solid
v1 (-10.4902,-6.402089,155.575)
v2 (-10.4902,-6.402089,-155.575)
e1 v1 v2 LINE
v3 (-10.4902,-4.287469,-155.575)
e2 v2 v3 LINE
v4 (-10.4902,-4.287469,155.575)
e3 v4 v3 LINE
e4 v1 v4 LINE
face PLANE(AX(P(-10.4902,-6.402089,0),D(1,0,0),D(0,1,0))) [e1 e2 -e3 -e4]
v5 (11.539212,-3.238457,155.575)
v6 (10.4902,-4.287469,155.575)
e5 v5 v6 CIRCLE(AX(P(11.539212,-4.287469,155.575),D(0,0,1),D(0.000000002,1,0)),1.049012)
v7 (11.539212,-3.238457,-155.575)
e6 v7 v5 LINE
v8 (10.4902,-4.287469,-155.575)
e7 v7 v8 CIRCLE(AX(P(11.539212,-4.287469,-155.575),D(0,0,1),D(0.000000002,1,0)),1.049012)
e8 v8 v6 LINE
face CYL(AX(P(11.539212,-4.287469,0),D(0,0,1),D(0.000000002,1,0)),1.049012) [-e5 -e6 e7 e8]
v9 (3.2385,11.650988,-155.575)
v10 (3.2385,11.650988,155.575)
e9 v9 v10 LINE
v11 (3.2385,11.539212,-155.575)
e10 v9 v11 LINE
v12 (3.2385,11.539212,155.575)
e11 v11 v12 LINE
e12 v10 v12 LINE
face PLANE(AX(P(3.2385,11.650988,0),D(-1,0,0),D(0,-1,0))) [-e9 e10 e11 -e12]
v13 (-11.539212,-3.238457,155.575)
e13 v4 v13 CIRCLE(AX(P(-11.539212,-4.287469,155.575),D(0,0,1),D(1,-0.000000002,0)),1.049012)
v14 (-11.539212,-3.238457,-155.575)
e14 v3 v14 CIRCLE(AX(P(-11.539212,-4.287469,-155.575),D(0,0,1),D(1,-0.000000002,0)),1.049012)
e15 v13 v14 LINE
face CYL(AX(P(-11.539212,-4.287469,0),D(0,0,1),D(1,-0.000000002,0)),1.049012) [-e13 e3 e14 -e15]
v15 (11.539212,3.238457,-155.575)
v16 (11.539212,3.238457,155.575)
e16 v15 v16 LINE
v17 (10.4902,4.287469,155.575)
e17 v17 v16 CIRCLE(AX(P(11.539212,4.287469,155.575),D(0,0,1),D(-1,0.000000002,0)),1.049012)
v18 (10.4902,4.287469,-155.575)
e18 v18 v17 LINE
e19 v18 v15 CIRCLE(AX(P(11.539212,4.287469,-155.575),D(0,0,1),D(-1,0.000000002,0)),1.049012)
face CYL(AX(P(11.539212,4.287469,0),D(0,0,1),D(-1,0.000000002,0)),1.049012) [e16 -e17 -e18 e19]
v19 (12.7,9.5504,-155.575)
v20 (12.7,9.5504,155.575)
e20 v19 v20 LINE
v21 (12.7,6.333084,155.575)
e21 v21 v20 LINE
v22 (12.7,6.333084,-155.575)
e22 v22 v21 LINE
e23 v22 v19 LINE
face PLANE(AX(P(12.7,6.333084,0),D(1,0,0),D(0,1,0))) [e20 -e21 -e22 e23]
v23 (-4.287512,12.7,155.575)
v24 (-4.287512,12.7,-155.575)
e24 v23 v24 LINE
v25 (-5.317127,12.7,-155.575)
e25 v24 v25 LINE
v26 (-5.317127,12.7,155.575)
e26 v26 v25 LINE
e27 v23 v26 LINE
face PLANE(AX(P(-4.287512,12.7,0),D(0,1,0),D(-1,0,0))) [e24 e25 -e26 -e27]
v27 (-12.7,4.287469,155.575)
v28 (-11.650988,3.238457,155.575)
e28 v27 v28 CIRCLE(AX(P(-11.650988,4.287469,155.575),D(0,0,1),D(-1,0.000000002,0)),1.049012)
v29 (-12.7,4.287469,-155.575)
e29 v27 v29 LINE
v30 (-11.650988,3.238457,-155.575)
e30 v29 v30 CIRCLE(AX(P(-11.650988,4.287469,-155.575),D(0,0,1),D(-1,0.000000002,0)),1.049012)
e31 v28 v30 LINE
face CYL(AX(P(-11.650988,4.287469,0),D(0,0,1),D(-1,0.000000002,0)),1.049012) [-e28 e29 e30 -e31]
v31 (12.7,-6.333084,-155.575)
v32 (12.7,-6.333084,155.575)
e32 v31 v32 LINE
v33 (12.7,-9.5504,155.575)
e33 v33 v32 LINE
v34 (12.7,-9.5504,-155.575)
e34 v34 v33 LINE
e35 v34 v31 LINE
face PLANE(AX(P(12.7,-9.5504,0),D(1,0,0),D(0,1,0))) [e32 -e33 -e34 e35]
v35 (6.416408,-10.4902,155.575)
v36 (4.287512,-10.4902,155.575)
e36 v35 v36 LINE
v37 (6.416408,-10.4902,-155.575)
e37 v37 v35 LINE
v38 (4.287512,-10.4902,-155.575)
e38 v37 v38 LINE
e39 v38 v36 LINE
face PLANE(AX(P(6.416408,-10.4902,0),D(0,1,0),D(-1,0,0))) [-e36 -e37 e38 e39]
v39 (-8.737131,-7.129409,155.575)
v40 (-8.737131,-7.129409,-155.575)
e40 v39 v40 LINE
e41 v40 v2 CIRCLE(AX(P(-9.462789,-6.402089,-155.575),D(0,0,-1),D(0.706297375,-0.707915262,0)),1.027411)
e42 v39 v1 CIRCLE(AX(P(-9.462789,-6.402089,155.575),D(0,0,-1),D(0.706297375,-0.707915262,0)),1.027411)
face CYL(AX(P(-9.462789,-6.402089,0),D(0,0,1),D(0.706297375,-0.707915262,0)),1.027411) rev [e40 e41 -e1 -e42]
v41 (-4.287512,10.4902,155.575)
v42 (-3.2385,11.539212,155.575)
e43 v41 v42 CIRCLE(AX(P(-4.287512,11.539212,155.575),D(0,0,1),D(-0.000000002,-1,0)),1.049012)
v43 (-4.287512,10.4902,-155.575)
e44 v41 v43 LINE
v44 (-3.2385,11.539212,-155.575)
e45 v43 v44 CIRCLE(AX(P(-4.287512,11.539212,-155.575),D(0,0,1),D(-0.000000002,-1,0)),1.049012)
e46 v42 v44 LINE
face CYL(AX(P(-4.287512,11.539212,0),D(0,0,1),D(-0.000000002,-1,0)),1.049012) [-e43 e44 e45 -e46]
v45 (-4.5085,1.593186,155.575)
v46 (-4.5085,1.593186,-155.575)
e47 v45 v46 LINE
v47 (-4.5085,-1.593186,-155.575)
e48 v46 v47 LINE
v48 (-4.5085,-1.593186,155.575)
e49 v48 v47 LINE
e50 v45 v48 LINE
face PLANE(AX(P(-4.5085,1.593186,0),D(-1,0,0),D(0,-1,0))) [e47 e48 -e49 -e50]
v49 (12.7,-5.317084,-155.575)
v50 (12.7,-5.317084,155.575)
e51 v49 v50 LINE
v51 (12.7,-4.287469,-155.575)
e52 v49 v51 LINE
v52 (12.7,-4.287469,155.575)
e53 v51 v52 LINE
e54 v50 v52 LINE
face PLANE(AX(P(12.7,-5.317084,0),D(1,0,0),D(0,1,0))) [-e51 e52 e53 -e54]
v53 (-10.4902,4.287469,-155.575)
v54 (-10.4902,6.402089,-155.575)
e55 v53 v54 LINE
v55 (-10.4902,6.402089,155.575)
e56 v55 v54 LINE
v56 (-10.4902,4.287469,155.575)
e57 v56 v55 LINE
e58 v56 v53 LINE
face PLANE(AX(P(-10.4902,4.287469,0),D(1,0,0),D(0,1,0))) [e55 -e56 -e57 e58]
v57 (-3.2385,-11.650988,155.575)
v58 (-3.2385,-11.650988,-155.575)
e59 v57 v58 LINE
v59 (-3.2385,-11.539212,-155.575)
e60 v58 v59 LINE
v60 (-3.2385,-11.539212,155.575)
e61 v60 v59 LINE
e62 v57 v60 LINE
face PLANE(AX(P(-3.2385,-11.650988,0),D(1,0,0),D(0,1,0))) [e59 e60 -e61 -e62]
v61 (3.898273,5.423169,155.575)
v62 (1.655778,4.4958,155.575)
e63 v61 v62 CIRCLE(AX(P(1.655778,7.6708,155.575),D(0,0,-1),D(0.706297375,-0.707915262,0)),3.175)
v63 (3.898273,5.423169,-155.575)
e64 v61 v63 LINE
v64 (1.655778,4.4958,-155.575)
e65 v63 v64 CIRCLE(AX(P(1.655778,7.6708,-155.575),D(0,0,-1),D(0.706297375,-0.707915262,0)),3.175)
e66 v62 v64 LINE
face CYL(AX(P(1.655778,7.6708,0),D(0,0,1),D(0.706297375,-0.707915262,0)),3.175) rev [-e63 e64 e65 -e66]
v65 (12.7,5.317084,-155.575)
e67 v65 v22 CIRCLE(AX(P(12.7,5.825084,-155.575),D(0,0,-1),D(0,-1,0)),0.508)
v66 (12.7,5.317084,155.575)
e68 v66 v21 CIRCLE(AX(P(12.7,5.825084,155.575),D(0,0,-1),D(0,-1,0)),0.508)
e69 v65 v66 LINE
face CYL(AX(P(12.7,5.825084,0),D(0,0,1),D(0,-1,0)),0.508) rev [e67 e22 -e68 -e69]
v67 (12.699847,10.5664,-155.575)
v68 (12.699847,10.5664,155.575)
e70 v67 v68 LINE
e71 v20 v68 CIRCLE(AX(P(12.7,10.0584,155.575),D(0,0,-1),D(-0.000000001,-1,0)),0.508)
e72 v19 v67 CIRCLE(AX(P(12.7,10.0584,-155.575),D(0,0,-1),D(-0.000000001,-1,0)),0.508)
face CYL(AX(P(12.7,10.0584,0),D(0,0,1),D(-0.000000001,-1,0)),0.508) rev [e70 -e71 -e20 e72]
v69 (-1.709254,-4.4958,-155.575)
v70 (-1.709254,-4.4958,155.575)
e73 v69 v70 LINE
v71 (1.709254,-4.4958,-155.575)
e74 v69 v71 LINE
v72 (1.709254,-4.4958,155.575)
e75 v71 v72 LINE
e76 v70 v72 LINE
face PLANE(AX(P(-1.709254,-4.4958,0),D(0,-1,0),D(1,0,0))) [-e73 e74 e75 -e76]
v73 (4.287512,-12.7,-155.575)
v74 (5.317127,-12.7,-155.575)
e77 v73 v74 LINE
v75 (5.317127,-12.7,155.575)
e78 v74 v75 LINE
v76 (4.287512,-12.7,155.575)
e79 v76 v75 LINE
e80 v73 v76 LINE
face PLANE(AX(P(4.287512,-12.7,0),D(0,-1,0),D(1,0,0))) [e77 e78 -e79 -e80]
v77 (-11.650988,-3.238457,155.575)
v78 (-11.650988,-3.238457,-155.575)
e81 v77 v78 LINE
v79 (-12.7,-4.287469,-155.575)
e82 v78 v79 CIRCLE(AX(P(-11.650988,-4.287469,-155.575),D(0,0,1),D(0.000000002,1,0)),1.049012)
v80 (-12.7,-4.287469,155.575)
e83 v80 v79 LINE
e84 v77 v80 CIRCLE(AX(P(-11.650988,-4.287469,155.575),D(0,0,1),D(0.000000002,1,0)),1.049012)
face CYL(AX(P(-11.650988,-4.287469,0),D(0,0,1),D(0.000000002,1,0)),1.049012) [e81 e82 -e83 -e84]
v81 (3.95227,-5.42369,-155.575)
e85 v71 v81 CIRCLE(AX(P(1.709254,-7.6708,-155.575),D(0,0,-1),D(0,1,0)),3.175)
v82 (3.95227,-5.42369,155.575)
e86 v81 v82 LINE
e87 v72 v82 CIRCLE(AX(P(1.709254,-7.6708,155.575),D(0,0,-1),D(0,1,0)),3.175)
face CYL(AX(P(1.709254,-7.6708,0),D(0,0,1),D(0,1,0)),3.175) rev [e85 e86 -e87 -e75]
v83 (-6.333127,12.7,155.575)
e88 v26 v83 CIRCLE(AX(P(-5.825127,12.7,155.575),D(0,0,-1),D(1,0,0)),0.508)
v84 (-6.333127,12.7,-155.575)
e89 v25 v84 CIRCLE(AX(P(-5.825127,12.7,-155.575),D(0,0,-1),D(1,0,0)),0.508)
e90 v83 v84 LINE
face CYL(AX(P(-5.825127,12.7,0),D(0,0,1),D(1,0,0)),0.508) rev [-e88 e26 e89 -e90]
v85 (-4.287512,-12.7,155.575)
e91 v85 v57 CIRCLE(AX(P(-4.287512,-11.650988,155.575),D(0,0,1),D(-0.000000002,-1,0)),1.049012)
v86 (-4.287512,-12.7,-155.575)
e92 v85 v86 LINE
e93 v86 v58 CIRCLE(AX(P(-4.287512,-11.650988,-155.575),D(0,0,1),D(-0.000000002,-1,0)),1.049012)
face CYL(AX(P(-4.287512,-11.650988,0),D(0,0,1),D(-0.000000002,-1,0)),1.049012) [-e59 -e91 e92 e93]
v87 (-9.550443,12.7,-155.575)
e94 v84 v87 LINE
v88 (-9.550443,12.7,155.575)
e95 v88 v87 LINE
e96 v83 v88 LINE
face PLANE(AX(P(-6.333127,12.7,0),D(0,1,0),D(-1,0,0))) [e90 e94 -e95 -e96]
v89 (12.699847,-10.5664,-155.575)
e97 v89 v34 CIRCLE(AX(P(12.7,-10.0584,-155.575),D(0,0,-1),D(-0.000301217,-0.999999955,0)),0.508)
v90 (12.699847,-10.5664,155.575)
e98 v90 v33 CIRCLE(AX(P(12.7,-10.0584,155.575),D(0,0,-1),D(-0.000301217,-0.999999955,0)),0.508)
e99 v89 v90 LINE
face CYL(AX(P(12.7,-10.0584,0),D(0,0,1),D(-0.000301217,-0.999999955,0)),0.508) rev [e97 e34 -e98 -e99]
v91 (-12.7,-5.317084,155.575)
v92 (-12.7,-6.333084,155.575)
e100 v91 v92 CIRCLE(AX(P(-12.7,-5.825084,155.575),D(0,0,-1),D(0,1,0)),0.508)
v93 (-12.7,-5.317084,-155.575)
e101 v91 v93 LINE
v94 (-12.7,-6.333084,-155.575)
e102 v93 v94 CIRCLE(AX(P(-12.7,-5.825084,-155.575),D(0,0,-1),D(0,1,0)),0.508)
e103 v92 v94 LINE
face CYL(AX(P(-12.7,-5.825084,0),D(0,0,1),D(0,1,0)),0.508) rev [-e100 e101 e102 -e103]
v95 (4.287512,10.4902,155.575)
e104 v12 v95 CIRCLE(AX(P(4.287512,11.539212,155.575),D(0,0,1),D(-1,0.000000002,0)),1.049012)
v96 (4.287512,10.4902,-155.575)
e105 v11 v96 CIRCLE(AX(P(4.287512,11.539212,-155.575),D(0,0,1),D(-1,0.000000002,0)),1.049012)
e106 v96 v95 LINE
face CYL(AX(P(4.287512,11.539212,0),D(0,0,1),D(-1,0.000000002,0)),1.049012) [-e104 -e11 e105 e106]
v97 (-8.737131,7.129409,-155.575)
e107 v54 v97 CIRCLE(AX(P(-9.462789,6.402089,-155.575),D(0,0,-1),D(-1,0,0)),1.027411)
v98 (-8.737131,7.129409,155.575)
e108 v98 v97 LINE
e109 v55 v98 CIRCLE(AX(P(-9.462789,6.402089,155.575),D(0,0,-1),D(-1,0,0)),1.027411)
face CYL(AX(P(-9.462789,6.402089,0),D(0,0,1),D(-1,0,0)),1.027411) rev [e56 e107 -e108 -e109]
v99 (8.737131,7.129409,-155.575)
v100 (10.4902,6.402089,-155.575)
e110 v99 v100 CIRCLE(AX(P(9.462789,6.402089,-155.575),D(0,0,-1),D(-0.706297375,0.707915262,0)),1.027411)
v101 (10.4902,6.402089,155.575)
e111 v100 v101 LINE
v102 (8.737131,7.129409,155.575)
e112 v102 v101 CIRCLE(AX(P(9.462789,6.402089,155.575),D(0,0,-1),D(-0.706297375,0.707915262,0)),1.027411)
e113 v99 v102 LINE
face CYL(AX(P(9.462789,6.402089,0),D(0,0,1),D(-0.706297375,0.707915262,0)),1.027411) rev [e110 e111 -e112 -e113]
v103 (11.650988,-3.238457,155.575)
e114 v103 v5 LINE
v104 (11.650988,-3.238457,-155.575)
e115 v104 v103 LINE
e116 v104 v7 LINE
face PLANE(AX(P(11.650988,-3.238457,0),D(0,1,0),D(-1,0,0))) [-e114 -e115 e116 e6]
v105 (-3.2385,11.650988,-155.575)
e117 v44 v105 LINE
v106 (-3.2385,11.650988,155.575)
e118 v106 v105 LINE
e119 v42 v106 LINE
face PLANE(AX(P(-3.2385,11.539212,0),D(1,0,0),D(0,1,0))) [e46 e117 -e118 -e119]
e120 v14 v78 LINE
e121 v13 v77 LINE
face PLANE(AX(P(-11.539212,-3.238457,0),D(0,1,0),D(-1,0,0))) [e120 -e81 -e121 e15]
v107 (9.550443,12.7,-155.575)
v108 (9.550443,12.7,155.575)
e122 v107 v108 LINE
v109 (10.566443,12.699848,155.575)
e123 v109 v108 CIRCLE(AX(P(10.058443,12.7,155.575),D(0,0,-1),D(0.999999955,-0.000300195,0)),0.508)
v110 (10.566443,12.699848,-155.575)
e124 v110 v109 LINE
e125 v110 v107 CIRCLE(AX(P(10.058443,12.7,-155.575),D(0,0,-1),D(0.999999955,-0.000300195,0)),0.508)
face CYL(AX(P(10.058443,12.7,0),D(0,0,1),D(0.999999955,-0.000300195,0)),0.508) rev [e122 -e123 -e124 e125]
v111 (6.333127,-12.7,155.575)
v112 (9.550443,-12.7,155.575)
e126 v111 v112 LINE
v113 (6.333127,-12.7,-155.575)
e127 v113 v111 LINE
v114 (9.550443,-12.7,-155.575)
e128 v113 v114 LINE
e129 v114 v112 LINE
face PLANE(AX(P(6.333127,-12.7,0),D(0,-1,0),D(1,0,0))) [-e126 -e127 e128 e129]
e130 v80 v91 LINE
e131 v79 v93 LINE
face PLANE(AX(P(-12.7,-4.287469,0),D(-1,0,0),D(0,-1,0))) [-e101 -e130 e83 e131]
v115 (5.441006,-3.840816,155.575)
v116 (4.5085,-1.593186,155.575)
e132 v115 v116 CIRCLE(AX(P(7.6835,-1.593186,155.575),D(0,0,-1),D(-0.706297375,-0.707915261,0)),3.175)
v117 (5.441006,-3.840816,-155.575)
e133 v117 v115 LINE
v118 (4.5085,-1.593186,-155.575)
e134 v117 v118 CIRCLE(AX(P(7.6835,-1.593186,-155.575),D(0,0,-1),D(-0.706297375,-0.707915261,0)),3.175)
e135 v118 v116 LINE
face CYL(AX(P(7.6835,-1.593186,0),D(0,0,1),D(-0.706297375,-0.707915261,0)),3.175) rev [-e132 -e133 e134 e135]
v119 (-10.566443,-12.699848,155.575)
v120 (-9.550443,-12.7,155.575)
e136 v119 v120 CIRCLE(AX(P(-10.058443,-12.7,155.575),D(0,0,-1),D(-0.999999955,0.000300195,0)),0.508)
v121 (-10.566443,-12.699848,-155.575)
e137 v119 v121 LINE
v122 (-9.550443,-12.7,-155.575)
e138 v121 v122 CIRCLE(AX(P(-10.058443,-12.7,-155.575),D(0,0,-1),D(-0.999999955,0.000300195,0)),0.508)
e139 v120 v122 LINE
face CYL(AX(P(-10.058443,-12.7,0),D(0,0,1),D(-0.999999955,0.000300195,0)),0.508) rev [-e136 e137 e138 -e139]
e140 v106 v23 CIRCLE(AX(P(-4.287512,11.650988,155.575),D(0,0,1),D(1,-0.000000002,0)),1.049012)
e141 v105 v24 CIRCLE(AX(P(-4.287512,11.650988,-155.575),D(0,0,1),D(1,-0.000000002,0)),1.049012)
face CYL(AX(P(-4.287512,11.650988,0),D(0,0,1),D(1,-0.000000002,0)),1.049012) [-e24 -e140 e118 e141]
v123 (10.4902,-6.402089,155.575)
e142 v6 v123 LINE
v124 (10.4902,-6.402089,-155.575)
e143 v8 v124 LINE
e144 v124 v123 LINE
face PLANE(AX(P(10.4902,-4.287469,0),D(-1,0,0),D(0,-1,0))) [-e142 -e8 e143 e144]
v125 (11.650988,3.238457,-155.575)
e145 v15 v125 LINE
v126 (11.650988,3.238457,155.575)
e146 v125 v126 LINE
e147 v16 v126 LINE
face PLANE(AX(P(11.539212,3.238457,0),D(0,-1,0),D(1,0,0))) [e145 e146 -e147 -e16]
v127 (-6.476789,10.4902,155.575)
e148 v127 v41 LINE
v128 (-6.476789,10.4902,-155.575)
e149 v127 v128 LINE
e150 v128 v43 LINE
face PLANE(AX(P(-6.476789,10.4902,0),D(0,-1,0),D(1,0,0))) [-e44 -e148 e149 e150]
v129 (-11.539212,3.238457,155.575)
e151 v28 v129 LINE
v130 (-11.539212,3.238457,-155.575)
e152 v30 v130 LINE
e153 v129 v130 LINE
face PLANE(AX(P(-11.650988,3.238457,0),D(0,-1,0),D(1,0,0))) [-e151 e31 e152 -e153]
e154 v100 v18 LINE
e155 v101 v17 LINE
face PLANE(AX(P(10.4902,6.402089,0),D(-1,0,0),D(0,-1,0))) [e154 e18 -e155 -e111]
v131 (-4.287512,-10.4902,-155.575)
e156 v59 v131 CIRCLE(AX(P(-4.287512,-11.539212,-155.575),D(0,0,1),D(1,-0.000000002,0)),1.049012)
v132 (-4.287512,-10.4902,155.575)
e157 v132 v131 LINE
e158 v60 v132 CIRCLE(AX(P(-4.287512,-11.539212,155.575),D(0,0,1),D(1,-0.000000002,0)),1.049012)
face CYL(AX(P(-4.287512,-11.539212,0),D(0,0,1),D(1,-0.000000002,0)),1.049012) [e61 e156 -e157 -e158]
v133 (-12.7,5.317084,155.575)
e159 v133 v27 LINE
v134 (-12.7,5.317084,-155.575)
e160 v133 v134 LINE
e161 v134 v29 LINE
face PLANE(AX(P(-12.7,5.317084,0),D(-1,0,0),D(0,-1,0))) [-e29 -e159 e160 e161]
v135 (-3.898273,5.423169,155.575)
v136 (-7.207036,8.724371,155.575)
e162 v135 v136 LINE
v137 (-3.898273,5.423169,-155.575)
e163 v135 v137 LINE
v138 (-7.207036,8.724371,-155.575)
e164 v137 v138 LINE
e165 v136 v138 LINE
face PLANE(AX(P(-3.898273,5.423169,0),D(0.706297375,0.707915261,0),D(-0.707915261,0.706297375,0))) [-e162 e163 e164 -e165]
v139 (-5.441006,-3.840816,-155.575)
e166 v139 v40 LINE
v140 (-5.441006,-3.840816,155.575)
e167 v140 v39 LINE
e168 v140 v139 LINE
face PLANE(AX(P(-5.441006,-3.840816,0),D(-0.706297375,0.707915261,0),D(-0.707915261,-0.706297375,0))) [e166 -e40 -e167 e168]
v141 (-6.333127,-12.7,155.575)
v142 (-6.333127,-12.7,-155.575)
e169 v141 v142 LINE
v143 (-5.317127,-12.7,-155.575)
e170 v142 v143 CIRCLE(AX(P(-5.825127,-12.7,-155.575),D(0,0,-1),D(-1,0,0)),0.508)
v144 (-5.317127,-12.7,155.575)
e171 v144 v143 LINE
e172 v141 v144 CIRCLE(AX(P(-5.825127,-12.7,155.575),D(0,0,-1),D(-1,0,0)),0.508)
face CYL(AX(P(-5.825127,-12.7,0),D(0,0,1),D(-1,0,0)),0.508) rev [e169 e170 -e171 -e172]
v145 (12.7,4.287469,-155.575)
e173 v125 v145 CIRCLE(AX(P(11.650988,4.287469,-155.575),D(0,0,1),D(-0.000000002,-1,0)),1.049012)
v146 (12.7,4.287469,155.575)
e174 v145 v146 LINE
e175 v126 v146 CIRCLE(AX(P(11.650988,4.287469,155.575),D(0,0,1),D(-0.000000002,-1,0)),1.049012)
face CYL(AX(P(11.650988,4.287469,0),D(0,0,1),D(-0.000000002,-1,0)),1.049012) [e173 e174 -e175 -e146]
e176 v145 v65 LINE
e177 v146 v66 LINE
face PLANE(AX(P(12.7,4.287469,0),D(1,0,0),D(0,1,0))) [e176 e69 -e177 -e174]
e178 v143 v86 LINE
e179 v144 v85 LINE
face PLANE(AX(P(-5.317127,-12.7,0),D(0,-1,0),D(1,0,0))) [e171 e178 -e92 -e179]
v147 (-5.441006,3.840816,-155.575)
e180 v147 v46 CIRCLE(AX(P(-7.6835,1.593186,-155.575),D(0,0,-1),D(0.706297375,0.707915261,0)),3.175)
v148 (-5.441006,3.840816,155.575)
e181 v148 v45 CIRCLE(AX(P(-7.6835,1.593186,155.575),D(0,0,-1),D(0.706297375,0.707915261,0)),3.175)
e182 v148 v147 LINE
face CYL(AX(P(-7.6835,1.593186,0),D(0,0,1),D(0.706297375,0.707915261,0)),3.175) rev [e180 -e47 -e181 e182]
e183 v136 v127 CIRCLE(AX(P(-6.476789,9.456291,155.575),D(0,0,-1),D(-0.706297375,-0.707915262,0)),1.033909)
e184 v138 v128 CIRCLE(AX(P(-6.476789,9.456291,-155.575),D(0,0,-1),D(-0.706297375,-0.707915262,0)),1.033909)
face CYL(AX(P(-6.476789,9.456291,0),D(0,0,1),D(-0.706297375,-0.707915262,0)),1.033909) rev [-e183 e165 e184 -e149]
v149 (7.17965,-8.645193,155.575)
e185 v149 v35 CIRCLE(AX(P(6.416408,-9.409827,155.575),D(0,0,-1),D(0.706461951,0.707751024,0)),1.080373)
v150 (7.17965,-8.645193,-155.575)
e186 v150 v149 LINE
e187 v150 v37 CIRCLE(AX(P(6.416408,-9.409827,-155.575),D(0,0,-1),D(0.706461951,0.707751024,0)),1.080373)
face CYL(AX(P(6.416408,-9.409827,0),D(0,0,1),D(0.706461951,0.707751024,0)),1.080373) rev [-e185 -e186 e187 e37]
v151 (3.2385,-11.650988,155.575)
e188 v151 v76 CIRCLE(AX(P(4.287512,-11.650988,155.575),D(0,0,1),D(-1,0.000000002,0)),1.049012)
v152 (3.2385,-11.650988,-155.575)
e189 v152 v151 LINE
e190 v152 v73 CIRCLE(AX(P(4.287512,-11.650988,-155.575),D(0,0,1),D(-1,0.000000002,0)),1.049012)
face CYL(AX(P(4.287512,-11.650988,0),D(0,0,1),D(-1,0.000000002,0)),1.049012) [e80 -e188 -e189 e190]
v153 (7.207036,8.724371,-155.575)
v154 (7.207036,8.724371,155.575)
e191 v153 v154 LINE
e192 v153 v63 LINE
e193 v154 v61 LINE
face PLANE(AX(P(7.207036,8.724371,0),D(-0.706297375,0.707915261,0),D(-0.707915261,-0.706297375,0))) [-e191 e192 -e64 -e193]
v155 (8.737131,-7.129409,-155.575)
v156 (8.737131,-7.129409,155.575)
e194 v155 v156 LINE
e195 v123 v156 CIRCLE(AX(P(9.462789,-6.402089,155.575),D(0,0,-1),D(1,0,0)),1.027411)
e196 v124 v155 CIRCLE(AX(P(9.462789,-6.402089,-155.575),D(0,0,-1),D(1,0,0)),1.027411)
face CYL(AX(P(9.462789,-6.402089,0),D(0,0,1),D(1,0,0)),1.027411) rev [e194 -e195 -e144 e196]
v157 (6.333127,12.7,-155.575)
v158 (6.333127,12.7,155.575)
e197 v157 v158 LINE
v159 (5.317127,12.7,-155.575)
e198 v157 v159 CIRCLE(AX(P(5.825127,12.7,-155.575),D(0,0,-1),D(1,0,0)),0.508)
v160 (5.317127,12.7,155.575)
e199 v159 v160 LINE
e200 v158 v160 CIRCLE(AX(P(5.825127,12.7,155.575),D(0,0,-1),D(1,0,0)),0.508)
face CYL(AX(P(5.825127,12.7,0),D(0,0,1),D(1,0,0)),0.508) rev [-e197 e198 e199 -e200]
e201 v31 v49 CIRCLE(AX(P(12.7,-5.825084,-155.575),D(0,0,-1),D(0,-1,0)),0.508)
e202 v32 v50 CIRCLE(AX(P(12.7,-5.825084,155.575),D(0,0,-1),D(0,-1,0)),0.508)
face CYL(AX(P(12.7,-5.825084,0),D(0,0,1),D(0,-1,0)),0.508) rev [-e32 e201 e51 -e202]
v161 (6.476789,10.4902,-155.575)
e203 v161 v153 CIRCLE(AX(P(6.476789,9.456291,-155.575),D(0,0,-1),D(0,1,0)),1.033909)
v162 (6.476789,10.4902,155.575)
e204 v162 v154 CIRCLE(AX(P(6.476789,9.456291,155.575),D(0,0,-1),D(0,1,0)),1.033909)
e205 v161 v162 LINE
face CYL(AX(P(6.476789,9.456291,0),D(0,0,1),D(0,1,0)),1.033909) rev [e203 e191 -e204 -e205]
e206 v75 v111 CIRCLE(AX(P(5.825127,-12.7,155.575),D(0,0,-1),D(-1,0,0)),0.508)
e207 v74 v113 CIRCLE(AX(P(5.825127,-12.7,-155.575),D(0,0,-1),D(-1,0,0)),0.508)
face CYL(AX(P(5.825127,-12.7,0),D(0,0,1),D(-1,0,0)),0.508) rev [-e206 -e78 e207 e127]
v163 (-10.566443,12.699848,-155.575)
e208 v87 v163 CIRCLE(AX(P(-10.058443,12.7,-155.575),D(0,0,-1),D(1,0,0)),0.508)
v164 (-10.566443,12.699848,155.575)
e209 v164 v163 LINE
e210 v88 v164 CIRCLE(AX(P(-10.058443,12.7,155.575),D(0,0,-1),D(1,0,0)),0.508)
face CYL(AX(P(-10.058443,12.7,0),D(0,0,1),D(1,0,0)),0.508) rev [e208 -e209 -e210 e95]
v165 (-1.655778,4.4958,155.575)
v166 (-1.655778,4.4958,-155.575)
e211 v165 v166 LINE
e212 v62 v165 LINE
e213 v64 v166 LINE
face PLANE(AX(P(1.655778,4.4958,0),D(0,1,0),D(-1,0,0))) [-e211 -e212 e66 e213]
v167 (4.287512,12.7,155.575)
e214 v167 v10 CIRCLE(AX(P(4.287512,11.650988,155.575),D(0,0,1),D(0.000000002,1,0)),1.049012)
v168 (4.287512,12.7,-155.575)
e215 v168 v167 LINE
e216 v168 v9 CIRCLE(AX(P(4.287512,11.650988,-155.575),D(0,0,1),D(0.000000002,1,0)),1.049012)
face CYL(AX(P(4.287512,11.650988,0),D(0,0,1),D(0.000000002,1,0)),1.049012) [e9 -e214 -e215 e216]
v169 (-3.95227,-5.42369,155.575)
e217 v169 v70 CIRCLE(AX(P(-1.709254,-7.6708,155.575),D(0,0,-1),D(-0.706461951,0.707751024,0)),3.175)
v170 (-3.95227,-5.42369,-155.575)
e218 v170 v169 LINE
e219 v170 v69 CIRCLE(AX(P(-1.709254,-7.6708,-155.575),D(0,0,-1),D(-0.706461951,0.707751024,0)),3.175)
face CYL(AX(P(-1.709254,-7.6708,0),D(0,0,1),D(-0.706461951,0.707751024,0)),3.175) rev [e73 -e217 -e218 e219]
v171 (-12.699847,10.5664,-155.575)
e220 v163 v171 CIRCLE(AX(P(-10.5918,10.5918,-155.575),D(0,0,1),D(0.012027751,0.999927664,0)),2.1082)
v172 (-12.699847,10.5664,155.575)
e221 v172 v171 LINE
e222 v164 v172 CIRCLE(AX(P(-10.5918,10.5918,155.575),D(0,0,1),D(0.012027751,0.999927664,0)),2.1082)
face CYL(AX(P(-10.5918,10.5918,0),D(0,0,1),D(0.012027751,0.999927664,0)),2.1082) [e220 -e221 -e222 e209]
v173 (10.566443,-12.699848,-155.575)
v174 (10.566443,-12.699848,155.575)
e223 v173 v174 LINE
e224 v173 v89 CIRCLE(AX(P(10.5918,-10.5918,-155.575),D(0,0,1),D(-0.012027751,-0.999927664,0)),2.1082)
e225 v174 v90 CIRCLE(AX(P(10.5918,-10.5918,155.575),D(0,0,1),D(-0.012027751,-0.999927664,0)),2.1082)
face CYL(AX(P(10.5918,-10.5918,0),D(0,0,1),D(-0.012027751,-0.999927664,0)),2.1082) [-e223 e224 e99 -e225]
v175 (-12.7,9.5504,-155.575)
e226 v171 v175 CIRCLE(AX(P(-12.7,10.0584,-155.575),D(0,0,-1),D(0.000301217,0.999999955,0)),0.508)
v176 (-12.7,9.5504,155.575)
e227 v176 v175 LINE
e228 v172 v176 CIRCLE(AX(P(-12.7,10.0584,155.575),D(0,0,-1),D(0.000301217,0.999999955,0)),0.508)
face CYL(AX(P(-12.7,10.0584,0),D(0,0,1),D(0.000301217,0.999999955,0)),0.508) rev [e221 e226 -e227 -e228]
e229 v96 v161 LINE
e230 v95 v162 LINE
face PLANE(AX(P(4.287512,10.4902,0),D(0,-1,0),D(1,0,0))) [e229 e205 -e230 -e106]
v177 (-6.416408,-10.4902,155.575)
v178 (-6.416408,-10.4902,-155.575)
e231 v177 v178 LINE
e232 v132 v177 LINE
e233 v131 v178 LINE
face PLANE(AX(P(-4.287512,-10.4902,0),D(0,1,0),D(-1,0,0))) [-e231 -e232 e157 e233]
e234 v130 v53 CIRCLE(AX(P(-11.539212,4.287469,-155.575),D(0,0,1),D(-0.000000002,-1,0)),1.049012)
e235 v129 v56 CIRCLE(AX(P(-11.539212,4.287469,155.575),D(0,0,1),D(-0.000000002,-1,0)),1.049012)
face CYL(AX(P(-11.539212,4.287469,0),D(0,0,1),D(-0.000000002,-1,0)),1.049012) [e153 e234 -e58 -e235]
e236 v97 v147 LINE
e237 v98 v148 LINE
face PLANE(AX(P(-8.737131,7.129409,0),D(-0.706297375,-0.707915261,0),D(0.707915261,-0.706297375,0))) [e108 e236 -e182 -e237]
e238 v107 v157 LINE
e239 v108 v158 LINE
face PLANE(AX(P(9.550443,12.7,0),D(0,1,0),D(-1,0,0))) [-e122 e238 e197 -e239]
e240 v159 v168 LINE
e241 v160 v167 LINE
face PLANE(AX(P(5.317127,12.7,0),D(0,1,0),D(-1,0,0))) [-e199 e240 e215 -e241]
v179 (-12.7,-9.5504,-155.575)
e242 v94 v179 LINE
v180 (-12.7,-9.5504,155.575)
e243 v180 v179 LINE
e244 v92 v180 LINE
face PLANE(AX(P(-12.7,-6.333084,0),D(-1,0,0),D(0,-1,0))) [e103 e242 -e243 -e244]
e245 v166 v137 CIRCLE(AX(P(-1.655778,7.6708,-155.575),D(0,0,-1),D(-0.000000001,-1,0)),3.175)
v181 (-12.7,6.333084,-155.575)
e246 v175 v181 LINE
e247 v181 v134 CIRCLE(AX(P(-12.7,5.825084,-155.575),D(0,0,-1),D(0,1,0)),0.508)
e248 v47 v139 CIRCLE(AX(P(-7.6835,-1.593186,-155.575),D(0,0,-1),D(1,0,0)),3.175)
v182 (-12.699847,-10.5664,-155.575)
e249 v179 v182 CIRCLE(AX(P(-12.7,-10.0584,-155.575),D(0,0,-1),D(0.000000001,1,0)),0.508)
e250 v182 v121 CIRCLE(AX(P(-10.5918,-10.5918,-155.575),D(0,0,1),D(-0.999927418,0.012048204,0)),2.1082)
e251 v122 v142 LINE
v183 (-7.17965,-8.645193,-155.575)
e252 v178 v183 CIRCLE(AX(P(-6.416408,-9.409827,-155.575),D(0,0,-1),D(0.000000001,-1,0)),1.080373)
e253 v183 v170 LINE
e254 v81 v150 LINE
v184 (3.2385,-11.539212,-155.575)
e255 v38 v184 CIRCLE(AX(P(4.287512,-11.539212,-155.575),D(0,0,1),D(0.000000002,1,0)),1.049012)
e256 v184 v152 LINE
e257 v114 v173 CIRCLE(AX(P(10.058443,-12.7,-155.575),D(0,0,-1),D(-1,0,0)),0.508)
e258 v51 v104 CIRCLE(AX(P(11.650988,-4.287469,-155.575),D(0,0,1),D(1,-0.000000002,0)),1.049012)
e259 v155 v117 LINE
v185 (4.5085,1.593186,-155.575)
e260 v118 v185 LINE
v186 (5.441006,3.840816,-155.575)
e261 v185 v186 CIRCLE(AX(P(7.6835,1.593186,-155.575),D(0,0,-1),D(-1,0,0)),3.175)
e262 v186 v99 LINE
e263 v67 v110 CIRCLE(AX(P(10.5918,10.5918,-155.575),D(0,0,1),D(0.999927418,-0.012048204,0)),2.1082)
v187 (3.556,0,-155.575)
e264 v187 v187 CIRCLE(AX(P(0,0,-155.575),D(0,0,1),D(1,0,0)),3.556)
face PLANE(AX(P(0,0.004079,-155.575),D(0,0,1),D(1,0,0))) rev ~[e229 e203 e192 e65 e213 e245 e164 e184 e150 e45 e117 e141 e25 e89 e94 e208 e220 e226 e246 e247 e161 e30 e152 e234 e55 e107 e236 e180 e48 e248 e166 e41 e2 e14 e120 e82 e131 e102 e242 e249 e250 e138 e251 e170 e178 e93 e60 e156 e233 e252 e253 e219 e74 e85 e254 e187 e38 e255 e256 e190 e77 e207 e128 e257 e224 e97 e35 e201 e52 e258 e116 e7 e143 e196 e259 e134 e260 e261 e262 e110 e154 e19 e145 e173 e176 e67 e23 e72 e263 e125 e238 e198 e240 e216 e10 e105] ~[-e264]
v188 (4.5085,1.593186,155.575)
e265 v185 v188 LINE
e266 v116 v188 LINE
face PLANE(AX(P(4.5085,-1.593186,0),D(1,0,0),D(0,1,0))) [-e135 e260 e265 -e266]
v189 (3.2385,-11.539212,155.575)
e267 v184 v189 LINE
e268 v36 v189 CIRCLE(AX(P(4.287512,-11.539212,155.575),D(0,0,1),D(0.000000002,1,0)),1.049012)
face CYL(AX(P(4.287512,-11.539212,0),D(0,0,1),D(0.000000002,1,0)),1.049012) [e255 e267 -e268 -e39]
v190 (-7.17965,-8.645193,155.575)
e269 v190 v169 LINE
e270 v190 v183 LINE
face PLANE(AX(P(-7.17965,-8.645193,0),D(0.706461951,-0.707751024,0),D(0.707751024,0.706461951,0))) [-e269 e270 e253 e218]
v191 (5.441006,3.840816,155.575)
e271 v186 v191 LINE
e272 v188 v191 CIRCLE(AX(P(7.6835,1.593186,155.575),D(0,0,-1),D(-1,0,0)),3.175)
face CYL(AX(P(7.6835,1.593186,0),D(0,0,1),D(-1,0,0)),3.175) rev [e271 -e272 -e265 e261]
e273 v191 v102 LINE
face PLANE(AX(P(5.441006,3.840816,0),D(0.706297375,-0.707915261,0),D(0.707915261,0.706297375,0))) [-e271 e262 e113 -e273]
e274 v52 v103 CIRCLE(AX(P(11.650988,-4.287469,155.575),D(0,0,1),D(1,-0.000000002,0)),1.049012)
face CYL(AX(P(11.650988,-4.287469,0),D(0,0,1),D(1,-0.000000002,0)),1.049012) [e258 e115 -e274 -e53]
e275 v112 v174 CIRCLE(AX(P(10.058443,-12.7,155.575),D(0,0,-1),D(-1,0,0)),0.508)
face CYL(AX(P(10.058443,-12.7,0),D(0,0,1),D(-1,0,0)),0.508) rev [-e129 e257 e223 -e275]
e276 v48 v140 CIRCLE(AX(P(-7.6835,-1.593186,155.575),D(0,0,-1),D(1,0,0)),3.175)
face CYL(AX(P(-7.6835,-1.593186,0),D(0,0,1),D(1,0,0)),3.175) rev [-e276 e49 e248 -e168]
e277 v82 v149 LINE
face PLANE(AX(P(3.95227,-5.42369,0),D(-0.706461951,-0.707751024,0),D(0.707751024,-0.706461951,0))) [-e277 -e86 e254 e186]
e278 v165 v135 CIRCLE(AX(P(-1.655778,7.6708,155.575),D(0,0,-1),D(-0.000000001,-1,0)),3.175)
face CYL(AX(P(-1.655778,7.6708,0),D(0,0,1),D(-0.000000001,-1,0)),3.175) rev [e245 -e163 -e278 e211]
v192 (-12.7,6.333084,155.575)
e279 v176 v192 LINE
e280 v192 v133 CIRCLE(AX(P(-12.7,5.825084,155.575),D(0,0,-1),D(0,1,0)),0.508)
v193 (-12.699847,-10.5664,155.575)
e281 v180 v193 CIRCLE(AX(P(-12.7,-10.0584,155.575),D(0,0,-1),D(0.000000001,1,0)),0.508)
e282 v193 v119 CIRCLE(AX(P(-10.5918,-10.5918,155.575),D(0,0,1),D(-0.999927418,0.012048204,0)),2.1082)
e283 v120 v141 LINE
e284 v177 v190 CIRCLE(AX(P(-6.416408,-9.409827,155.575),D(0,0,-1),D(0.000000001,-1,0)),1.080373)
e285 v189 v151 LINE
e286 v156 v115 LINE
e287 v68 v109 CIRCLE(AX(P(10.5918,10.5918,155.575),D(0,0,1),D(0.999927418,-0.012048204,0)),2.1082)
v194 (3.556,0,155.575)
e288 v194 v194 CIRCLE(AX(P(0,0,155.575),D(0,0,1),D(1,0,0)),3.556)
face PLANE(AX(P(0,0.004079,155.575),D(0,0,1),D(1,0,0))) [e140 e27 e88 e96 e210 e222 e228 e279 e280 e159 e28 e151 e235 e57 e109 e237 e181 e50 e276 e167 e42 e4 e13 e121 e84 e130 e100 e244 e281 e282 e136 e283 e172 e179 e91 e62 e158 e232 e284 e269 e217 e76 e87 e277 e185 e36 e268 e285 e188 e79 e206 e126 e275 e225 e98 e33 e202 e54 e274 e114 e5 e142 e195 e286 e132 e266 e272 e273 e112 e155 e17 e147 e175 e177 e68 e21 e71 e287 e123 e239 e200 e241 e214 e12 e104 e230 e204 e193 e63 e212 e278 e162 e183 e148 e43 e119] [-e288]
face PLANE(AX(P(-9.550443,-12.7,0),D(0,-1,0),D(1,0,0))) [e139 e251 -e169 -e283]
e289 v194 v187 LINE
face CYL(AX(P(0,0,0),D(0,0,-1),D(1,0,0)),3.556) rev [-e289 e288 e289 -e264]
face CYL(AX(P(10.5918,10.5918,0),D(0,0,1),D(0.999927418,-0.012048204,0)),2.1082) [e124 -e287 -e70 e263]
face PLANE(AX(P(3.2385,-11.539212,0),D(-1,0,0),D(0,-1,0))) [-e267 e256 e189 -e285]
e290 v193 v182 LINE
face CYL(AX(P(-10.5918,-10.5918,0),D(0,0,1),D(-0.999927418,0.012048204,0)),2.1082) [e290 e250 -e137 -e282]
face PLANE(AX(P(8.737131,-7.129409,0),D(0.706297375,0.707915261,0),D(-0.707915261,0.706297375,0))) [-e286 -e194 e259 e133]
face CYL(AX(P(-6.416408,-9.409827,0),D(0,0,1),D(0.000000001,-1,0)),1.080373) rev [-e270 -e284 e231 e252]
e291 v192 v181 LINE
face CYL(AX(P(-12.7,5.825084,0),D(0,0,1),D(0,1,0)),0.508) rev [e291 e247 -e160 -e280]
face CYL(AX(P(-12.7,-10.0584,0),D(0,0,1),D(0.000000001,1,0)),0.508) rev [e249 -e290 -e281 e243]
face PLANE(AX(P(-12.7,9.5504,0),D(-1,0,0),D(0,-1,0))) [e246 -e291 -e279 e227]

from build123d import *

# Parameters (mm, degrees)
SKETCH1_R           = 3.556
BOSS_EXTRUDE1_DEPTH = 155.575


with BuildPart() as part:
    # Sketch1 → Boss-Extrude1 (new body, symmetric)
    with BuildSketch(Plane.XY):
        with BuildLine():
            Line((-7.179650497, -8.645192506), (-3.952270251, -5.423690499))
            ThreePointArc((-3.952270251, -5.423690499), (-2.922936451, -4.736929036), (-1.709253557, -4.4958))
            Line((-1.709253557, -4.4958), (1.709253557, -4.4958))
            ThreePointArc((1.709253557, -4.4958), (2.922936451, -4.736929036), (3.952270251, -5.423690499))
            Line((3.952270251, -5.423690499), (7.179650497, -8.645192506))
            ThreePointArc((7.179650497, -8.645192506), (7.41473083, -9.822813117), (6.416408329, -10.4902))
            Line((6.416408329, -10.4902), (4.287512407, -10.4902))
            ThreePointArc((4.287512407, -10.4902), (3.54574862, -10.79744862), (3.2385, -11.539212407))
            Line((3.2385, -11.539212407), (3.2385, -11.650987593))
            ThreePointArc((3.2385, -11.650987593), (3.54574862, -12.39275138), (4.287512407, -12.7))
            Line((4.287512407, -12.7), (5.317126718, -12.7))
            ThreePointArc((5.317126718, -12.7), (5.825126718, -12.192), (6.333126718, -12.7))
            Line((6.333126718, -12.7), (9.550443118, -12.7))
            ThreePointArc((9.550443118, -12.7), (10.058366869, -12.192000006), (10.566443095, -12.699847501))
            ThreePointArc((10.566443095, -12.699847501), (12.082537762, -12.08250727), (12.699846982, -10.566399977))
            ThreePointArc((12.699846982, -10.566399977), (12.192000006, -10.058323491), (12.7, -9.5504))
            Line((12.7, -9.5504), (12.7, -6.3330836))
            ThreePointArc((12.7, -6.3330836), (12.192, -5.8250836), (12.7, -5.3170836))
            Line((12.7, -5.3170836), (12.7, -4.287469289))
            ThreePointArc((12.7, -4.287469289), (12.39275138, -3.545705502), (11.650987593, -3.238456882))
            Line((11.650987593, -3.238456882), (11.539212407, -3.238456882))
            ThreePointArc((11.539212407, -3.238456882), (10.79744862, -3.545705502), (10.4902, -4.287469289))
            Line((10.4902, -4.287469289), (10.4902, -6.402089023))
            ThreePointArc((10.4902, -6.402089023), (9.856505071, -7.351067942), (8.737131347, -7.129408934))
            Line((8.737131347, -7.129408934), (5.441005833, -3.840816462))
            ThreePointArc((5.441005833, -3.840816462), (4.750877967, -2.809883091), (4.5085, -1.593185507))
            Line((4.5085, -1.593185507), (4.5085, 1.593185507))
            ThreePointArc((4.5085, 1.593185507), (4.750877967, 2.809883091), (5.441005833, 3.840816462))
            Line((5.441005833, 3.840816462), (8.737131347, 7.129408934))
            ThreePointArc((8.737131347, 7.129408934), (9.856505071, 7.351067942), (10.4902, 6.402089023))
            Line((10.4902, 6.402089023), (10.4902, 4.287469289))
            ThreePointArc((10.4902, 4.287469289), (10.79744862, 3.545705502), (11.539212407, 3.238456882))
            Line((11.539212407, 3.238456882), (11.650987593, 3.238456882))
            ThreePointArc((11.650987593, 3.238456882), (12.39275138, 3.545705502), (12.7, 4.287469289))
            Line((12.7, 4.287469289), (12.7, 5.3170836))
            ThreePointArc((12.7, 5.3170836), (12.192, 5.8250836), (12.7, 6.3330836))
            Line((12.7, 6.3330836), (12.7, 9.5504))
            ThreePointArc((12.7, 9.5504), (12.192000006, 10.058323491), (12.699846982, 10.566399977))
            ThreePointArc((12.699846982, 10.566399977), (12.082537762, 12.08250727), (10.566443095, 12.699847501))
            ThreePointArc((10.566443095, 12.699847501), (10.058366869, 12.192000006), (9.550443118, 12.7))
            Line((9.550443118, 12.7), (6.333126718, 12.7))
            ThreePointArc((6.333126718, 12.7), (5.825126718, 12.192), (5.317126718, 12.7))
            Line((5.317126718, 12.7), (4.287512407, 12.7))
            ThreePointArc((4.287512407, 12.7), (3.54574862, 12.39275138), (3.2385, 11.650987593))
            Line((3.2385, 11.650987593), (3.2385, 11.539212407))
            ThreePointArc((3.2385, 11.539212407), (3.54574862, 10.79744862), (4.287512407, 10.4902))
            Line((4.287512407, 10.4902), (6.476788598, 10.4902))
            ThreePointArc((6.476788598, 10.4902), (7.432222385, 9.85140422), (7.207036008, 8.724370562))
            Line((7.207036008, 8.724370562), (3.898272566, 5.423169045))
            ThreePointArc((3.898272566, 5.423169045), (2.869120213, 4.736787962), (1.655778399, 4.4958))
            Line((1.655778399, 4.4958), (-1.655778399, 4.4958))
            ThreePointArc((-1.655778399, 4.4958), (-2.869120213, 4.736787962), (-3.898272566, 5.423169045))
            Line((-3.898272566, 5.423169045), (-7.207036008, 8.724370562))
            ThreePointArc((-7.207036008, 8.724370562), (-7.432222385, 9.85140422), (-6.476788598, 10.4902))
            Line((-6.476788598, 10.4902), (-4.287512407, 10.4902))
            ThreePointArc((-4.287512407, 10.4902), (-3.54574862, 10.79744862), (-3.2385, 11.539212407))
            Line((-3.2385, 11.539212407), (-3.2385, 11.650987593))
            ThreePointArc((-3.2385, 11.650987593), (-3.54574862, 12.39275138), (-4.287512407, 12.7))
            Line((-4.287512407, 12.7), (-5.317126718, 12.7))
            ThreePointArc((-5.317126718, 12.7), (-5.825126718, 12.192), (-6.333126718, 12.7))
            Line((-6.333126718, 12.7), (-9.550443118, 12.7))
            ThreePointArc((-9.550443118, 12.7), (-10.058366869, 12.192000006), (-10.566443095, 12.699847501))
            ThreePointArc((-10.566443095, 12.699847501), (-12.082537762, 12.08250727), (-12.699846982, 10.566399977))
            ThreePointArc((-12.699846982, 10.566399977), (-12.192000006, 10.058323491), (-12.7, 9.5504))
            Line((-12.7, 9.5504), (-12.7, 6.3330836))
            ThreePointArc((-12.7, 6.3330836), (-12.192, 5.8250836), (-12.7, 5.3170836))
            Line((-12.7, 5.3170836), (-12.7, 4.287469289))
            ThreePointArc((-12.7, 4.287469289), (-12.39275138, 3.545705502), (-11.650987593, 3.238456882))
            Line((-11.650987593, 3.238456882), (-11.539212407, 3.238456882))
            ThreePointArc((-11.539212407, 3.238456882), (-10.79744862, 3.545705502), (-10.4902, 4.287469289))
            Line((-10.4902, 4.287469289), (-10.4902, 6.402089023))
            ThreePointArc((-10.4902, 6.402089023), (-9.856505071, 7.351067942), (-8.737131347, 7.129408934))
            Line((-8.737131347, 7.129408934), (-5.441005833, 3.840816462))
            ThreePointArc((-5.441005833, 3.840816462), (-4.750877967, 2.809883091), (-4.5085, 1.593185507))
            Line((-4.5085, 1.593185507), (-4.5085, -1.593185507))
            ThreePointArc((-4.5085, -1.593185507), (-4.750877967, -2.809883091), (-5.441005833, -3.840816462))
            Line((-5.441005833, -3.840816462), (-8.737131347, -7.129408934))
            ThreePointArc((-8.737131347, -7.129408934), (-9.856505071, -7.351067942), (-10.4902, -6.402089023))
            Line((-10.4902, -6.402089023), (-10.4902, -4.287469289))
            ThreePointArc((-10.4902, -4.287469289), (-10.79744862, -3.545705502), (-11.539212407, -3.238456882))
            Line((-11.539212407, -3.238456882), (-11.650987593, -3.238456882))
            ThreePointArc((-11.650987593, -3.238456882), (-12.39275138, -3.545705502), (-12.7, -4.287469289))
            Line((-12.7, -4.287469289), (-12.7, -5.3170836))
            ThreePointArc((-12.7, -5.3170836), (-12.192, -5.8250836), (-12.7, -6.3330836))
            Line((-12.7, -6.3330836), (-12.7, -9.5504))
            ThreePointArc((-12.7, -9.5504), (-12.192000006, -10.058323491), (-12.699846982, -10.566399977))
            ThreePointArc((-12.699846982, -10.566399977), (-12.082537762, -12.08250727), (-10.566443095, -12.699847501))
            ThreePointArc((-10.566443095, -12.699847501), (-10.058366869, -12.192000006), (-9.550443118, -12.7))
            Line((-9.550443118, -12.7), (-6.333126718, -12.7))
            ThreePointArc((-6.333126718, -12.7), (-5.825126718, -12.192), (-5.317126718, -12.7))
            Line((-5.317126718, -12.7), (-4.287512407, -12.7))
            ThreePointArc((-4.287512407, -12.7), (-3.54574862, -12.39275138), (-3.2385, -11.650987593))
            Line((-3.2385, -11.650987593), (-3.2385, -11.539212407))
            ThreePointArc((-3.2385, -11.539212407), (-3.54574862, -10.79744862), (-4.287512407, -10.4902))
            Line((-4.287512407, -10.4902), (-6.416408329, -10.4902))
            ThreePointArc((-6.416408329, -10.4902), (-7.41473083, -9.822813117), (-7.179650497, -8.645192506))
        make_face()
        Circle(SKETCH1_R, mode=Mode.SUBTRACT)
    extrude(amount=BOSS_EXTRUDE1_DEPTH, both=True)


solid = part.part
